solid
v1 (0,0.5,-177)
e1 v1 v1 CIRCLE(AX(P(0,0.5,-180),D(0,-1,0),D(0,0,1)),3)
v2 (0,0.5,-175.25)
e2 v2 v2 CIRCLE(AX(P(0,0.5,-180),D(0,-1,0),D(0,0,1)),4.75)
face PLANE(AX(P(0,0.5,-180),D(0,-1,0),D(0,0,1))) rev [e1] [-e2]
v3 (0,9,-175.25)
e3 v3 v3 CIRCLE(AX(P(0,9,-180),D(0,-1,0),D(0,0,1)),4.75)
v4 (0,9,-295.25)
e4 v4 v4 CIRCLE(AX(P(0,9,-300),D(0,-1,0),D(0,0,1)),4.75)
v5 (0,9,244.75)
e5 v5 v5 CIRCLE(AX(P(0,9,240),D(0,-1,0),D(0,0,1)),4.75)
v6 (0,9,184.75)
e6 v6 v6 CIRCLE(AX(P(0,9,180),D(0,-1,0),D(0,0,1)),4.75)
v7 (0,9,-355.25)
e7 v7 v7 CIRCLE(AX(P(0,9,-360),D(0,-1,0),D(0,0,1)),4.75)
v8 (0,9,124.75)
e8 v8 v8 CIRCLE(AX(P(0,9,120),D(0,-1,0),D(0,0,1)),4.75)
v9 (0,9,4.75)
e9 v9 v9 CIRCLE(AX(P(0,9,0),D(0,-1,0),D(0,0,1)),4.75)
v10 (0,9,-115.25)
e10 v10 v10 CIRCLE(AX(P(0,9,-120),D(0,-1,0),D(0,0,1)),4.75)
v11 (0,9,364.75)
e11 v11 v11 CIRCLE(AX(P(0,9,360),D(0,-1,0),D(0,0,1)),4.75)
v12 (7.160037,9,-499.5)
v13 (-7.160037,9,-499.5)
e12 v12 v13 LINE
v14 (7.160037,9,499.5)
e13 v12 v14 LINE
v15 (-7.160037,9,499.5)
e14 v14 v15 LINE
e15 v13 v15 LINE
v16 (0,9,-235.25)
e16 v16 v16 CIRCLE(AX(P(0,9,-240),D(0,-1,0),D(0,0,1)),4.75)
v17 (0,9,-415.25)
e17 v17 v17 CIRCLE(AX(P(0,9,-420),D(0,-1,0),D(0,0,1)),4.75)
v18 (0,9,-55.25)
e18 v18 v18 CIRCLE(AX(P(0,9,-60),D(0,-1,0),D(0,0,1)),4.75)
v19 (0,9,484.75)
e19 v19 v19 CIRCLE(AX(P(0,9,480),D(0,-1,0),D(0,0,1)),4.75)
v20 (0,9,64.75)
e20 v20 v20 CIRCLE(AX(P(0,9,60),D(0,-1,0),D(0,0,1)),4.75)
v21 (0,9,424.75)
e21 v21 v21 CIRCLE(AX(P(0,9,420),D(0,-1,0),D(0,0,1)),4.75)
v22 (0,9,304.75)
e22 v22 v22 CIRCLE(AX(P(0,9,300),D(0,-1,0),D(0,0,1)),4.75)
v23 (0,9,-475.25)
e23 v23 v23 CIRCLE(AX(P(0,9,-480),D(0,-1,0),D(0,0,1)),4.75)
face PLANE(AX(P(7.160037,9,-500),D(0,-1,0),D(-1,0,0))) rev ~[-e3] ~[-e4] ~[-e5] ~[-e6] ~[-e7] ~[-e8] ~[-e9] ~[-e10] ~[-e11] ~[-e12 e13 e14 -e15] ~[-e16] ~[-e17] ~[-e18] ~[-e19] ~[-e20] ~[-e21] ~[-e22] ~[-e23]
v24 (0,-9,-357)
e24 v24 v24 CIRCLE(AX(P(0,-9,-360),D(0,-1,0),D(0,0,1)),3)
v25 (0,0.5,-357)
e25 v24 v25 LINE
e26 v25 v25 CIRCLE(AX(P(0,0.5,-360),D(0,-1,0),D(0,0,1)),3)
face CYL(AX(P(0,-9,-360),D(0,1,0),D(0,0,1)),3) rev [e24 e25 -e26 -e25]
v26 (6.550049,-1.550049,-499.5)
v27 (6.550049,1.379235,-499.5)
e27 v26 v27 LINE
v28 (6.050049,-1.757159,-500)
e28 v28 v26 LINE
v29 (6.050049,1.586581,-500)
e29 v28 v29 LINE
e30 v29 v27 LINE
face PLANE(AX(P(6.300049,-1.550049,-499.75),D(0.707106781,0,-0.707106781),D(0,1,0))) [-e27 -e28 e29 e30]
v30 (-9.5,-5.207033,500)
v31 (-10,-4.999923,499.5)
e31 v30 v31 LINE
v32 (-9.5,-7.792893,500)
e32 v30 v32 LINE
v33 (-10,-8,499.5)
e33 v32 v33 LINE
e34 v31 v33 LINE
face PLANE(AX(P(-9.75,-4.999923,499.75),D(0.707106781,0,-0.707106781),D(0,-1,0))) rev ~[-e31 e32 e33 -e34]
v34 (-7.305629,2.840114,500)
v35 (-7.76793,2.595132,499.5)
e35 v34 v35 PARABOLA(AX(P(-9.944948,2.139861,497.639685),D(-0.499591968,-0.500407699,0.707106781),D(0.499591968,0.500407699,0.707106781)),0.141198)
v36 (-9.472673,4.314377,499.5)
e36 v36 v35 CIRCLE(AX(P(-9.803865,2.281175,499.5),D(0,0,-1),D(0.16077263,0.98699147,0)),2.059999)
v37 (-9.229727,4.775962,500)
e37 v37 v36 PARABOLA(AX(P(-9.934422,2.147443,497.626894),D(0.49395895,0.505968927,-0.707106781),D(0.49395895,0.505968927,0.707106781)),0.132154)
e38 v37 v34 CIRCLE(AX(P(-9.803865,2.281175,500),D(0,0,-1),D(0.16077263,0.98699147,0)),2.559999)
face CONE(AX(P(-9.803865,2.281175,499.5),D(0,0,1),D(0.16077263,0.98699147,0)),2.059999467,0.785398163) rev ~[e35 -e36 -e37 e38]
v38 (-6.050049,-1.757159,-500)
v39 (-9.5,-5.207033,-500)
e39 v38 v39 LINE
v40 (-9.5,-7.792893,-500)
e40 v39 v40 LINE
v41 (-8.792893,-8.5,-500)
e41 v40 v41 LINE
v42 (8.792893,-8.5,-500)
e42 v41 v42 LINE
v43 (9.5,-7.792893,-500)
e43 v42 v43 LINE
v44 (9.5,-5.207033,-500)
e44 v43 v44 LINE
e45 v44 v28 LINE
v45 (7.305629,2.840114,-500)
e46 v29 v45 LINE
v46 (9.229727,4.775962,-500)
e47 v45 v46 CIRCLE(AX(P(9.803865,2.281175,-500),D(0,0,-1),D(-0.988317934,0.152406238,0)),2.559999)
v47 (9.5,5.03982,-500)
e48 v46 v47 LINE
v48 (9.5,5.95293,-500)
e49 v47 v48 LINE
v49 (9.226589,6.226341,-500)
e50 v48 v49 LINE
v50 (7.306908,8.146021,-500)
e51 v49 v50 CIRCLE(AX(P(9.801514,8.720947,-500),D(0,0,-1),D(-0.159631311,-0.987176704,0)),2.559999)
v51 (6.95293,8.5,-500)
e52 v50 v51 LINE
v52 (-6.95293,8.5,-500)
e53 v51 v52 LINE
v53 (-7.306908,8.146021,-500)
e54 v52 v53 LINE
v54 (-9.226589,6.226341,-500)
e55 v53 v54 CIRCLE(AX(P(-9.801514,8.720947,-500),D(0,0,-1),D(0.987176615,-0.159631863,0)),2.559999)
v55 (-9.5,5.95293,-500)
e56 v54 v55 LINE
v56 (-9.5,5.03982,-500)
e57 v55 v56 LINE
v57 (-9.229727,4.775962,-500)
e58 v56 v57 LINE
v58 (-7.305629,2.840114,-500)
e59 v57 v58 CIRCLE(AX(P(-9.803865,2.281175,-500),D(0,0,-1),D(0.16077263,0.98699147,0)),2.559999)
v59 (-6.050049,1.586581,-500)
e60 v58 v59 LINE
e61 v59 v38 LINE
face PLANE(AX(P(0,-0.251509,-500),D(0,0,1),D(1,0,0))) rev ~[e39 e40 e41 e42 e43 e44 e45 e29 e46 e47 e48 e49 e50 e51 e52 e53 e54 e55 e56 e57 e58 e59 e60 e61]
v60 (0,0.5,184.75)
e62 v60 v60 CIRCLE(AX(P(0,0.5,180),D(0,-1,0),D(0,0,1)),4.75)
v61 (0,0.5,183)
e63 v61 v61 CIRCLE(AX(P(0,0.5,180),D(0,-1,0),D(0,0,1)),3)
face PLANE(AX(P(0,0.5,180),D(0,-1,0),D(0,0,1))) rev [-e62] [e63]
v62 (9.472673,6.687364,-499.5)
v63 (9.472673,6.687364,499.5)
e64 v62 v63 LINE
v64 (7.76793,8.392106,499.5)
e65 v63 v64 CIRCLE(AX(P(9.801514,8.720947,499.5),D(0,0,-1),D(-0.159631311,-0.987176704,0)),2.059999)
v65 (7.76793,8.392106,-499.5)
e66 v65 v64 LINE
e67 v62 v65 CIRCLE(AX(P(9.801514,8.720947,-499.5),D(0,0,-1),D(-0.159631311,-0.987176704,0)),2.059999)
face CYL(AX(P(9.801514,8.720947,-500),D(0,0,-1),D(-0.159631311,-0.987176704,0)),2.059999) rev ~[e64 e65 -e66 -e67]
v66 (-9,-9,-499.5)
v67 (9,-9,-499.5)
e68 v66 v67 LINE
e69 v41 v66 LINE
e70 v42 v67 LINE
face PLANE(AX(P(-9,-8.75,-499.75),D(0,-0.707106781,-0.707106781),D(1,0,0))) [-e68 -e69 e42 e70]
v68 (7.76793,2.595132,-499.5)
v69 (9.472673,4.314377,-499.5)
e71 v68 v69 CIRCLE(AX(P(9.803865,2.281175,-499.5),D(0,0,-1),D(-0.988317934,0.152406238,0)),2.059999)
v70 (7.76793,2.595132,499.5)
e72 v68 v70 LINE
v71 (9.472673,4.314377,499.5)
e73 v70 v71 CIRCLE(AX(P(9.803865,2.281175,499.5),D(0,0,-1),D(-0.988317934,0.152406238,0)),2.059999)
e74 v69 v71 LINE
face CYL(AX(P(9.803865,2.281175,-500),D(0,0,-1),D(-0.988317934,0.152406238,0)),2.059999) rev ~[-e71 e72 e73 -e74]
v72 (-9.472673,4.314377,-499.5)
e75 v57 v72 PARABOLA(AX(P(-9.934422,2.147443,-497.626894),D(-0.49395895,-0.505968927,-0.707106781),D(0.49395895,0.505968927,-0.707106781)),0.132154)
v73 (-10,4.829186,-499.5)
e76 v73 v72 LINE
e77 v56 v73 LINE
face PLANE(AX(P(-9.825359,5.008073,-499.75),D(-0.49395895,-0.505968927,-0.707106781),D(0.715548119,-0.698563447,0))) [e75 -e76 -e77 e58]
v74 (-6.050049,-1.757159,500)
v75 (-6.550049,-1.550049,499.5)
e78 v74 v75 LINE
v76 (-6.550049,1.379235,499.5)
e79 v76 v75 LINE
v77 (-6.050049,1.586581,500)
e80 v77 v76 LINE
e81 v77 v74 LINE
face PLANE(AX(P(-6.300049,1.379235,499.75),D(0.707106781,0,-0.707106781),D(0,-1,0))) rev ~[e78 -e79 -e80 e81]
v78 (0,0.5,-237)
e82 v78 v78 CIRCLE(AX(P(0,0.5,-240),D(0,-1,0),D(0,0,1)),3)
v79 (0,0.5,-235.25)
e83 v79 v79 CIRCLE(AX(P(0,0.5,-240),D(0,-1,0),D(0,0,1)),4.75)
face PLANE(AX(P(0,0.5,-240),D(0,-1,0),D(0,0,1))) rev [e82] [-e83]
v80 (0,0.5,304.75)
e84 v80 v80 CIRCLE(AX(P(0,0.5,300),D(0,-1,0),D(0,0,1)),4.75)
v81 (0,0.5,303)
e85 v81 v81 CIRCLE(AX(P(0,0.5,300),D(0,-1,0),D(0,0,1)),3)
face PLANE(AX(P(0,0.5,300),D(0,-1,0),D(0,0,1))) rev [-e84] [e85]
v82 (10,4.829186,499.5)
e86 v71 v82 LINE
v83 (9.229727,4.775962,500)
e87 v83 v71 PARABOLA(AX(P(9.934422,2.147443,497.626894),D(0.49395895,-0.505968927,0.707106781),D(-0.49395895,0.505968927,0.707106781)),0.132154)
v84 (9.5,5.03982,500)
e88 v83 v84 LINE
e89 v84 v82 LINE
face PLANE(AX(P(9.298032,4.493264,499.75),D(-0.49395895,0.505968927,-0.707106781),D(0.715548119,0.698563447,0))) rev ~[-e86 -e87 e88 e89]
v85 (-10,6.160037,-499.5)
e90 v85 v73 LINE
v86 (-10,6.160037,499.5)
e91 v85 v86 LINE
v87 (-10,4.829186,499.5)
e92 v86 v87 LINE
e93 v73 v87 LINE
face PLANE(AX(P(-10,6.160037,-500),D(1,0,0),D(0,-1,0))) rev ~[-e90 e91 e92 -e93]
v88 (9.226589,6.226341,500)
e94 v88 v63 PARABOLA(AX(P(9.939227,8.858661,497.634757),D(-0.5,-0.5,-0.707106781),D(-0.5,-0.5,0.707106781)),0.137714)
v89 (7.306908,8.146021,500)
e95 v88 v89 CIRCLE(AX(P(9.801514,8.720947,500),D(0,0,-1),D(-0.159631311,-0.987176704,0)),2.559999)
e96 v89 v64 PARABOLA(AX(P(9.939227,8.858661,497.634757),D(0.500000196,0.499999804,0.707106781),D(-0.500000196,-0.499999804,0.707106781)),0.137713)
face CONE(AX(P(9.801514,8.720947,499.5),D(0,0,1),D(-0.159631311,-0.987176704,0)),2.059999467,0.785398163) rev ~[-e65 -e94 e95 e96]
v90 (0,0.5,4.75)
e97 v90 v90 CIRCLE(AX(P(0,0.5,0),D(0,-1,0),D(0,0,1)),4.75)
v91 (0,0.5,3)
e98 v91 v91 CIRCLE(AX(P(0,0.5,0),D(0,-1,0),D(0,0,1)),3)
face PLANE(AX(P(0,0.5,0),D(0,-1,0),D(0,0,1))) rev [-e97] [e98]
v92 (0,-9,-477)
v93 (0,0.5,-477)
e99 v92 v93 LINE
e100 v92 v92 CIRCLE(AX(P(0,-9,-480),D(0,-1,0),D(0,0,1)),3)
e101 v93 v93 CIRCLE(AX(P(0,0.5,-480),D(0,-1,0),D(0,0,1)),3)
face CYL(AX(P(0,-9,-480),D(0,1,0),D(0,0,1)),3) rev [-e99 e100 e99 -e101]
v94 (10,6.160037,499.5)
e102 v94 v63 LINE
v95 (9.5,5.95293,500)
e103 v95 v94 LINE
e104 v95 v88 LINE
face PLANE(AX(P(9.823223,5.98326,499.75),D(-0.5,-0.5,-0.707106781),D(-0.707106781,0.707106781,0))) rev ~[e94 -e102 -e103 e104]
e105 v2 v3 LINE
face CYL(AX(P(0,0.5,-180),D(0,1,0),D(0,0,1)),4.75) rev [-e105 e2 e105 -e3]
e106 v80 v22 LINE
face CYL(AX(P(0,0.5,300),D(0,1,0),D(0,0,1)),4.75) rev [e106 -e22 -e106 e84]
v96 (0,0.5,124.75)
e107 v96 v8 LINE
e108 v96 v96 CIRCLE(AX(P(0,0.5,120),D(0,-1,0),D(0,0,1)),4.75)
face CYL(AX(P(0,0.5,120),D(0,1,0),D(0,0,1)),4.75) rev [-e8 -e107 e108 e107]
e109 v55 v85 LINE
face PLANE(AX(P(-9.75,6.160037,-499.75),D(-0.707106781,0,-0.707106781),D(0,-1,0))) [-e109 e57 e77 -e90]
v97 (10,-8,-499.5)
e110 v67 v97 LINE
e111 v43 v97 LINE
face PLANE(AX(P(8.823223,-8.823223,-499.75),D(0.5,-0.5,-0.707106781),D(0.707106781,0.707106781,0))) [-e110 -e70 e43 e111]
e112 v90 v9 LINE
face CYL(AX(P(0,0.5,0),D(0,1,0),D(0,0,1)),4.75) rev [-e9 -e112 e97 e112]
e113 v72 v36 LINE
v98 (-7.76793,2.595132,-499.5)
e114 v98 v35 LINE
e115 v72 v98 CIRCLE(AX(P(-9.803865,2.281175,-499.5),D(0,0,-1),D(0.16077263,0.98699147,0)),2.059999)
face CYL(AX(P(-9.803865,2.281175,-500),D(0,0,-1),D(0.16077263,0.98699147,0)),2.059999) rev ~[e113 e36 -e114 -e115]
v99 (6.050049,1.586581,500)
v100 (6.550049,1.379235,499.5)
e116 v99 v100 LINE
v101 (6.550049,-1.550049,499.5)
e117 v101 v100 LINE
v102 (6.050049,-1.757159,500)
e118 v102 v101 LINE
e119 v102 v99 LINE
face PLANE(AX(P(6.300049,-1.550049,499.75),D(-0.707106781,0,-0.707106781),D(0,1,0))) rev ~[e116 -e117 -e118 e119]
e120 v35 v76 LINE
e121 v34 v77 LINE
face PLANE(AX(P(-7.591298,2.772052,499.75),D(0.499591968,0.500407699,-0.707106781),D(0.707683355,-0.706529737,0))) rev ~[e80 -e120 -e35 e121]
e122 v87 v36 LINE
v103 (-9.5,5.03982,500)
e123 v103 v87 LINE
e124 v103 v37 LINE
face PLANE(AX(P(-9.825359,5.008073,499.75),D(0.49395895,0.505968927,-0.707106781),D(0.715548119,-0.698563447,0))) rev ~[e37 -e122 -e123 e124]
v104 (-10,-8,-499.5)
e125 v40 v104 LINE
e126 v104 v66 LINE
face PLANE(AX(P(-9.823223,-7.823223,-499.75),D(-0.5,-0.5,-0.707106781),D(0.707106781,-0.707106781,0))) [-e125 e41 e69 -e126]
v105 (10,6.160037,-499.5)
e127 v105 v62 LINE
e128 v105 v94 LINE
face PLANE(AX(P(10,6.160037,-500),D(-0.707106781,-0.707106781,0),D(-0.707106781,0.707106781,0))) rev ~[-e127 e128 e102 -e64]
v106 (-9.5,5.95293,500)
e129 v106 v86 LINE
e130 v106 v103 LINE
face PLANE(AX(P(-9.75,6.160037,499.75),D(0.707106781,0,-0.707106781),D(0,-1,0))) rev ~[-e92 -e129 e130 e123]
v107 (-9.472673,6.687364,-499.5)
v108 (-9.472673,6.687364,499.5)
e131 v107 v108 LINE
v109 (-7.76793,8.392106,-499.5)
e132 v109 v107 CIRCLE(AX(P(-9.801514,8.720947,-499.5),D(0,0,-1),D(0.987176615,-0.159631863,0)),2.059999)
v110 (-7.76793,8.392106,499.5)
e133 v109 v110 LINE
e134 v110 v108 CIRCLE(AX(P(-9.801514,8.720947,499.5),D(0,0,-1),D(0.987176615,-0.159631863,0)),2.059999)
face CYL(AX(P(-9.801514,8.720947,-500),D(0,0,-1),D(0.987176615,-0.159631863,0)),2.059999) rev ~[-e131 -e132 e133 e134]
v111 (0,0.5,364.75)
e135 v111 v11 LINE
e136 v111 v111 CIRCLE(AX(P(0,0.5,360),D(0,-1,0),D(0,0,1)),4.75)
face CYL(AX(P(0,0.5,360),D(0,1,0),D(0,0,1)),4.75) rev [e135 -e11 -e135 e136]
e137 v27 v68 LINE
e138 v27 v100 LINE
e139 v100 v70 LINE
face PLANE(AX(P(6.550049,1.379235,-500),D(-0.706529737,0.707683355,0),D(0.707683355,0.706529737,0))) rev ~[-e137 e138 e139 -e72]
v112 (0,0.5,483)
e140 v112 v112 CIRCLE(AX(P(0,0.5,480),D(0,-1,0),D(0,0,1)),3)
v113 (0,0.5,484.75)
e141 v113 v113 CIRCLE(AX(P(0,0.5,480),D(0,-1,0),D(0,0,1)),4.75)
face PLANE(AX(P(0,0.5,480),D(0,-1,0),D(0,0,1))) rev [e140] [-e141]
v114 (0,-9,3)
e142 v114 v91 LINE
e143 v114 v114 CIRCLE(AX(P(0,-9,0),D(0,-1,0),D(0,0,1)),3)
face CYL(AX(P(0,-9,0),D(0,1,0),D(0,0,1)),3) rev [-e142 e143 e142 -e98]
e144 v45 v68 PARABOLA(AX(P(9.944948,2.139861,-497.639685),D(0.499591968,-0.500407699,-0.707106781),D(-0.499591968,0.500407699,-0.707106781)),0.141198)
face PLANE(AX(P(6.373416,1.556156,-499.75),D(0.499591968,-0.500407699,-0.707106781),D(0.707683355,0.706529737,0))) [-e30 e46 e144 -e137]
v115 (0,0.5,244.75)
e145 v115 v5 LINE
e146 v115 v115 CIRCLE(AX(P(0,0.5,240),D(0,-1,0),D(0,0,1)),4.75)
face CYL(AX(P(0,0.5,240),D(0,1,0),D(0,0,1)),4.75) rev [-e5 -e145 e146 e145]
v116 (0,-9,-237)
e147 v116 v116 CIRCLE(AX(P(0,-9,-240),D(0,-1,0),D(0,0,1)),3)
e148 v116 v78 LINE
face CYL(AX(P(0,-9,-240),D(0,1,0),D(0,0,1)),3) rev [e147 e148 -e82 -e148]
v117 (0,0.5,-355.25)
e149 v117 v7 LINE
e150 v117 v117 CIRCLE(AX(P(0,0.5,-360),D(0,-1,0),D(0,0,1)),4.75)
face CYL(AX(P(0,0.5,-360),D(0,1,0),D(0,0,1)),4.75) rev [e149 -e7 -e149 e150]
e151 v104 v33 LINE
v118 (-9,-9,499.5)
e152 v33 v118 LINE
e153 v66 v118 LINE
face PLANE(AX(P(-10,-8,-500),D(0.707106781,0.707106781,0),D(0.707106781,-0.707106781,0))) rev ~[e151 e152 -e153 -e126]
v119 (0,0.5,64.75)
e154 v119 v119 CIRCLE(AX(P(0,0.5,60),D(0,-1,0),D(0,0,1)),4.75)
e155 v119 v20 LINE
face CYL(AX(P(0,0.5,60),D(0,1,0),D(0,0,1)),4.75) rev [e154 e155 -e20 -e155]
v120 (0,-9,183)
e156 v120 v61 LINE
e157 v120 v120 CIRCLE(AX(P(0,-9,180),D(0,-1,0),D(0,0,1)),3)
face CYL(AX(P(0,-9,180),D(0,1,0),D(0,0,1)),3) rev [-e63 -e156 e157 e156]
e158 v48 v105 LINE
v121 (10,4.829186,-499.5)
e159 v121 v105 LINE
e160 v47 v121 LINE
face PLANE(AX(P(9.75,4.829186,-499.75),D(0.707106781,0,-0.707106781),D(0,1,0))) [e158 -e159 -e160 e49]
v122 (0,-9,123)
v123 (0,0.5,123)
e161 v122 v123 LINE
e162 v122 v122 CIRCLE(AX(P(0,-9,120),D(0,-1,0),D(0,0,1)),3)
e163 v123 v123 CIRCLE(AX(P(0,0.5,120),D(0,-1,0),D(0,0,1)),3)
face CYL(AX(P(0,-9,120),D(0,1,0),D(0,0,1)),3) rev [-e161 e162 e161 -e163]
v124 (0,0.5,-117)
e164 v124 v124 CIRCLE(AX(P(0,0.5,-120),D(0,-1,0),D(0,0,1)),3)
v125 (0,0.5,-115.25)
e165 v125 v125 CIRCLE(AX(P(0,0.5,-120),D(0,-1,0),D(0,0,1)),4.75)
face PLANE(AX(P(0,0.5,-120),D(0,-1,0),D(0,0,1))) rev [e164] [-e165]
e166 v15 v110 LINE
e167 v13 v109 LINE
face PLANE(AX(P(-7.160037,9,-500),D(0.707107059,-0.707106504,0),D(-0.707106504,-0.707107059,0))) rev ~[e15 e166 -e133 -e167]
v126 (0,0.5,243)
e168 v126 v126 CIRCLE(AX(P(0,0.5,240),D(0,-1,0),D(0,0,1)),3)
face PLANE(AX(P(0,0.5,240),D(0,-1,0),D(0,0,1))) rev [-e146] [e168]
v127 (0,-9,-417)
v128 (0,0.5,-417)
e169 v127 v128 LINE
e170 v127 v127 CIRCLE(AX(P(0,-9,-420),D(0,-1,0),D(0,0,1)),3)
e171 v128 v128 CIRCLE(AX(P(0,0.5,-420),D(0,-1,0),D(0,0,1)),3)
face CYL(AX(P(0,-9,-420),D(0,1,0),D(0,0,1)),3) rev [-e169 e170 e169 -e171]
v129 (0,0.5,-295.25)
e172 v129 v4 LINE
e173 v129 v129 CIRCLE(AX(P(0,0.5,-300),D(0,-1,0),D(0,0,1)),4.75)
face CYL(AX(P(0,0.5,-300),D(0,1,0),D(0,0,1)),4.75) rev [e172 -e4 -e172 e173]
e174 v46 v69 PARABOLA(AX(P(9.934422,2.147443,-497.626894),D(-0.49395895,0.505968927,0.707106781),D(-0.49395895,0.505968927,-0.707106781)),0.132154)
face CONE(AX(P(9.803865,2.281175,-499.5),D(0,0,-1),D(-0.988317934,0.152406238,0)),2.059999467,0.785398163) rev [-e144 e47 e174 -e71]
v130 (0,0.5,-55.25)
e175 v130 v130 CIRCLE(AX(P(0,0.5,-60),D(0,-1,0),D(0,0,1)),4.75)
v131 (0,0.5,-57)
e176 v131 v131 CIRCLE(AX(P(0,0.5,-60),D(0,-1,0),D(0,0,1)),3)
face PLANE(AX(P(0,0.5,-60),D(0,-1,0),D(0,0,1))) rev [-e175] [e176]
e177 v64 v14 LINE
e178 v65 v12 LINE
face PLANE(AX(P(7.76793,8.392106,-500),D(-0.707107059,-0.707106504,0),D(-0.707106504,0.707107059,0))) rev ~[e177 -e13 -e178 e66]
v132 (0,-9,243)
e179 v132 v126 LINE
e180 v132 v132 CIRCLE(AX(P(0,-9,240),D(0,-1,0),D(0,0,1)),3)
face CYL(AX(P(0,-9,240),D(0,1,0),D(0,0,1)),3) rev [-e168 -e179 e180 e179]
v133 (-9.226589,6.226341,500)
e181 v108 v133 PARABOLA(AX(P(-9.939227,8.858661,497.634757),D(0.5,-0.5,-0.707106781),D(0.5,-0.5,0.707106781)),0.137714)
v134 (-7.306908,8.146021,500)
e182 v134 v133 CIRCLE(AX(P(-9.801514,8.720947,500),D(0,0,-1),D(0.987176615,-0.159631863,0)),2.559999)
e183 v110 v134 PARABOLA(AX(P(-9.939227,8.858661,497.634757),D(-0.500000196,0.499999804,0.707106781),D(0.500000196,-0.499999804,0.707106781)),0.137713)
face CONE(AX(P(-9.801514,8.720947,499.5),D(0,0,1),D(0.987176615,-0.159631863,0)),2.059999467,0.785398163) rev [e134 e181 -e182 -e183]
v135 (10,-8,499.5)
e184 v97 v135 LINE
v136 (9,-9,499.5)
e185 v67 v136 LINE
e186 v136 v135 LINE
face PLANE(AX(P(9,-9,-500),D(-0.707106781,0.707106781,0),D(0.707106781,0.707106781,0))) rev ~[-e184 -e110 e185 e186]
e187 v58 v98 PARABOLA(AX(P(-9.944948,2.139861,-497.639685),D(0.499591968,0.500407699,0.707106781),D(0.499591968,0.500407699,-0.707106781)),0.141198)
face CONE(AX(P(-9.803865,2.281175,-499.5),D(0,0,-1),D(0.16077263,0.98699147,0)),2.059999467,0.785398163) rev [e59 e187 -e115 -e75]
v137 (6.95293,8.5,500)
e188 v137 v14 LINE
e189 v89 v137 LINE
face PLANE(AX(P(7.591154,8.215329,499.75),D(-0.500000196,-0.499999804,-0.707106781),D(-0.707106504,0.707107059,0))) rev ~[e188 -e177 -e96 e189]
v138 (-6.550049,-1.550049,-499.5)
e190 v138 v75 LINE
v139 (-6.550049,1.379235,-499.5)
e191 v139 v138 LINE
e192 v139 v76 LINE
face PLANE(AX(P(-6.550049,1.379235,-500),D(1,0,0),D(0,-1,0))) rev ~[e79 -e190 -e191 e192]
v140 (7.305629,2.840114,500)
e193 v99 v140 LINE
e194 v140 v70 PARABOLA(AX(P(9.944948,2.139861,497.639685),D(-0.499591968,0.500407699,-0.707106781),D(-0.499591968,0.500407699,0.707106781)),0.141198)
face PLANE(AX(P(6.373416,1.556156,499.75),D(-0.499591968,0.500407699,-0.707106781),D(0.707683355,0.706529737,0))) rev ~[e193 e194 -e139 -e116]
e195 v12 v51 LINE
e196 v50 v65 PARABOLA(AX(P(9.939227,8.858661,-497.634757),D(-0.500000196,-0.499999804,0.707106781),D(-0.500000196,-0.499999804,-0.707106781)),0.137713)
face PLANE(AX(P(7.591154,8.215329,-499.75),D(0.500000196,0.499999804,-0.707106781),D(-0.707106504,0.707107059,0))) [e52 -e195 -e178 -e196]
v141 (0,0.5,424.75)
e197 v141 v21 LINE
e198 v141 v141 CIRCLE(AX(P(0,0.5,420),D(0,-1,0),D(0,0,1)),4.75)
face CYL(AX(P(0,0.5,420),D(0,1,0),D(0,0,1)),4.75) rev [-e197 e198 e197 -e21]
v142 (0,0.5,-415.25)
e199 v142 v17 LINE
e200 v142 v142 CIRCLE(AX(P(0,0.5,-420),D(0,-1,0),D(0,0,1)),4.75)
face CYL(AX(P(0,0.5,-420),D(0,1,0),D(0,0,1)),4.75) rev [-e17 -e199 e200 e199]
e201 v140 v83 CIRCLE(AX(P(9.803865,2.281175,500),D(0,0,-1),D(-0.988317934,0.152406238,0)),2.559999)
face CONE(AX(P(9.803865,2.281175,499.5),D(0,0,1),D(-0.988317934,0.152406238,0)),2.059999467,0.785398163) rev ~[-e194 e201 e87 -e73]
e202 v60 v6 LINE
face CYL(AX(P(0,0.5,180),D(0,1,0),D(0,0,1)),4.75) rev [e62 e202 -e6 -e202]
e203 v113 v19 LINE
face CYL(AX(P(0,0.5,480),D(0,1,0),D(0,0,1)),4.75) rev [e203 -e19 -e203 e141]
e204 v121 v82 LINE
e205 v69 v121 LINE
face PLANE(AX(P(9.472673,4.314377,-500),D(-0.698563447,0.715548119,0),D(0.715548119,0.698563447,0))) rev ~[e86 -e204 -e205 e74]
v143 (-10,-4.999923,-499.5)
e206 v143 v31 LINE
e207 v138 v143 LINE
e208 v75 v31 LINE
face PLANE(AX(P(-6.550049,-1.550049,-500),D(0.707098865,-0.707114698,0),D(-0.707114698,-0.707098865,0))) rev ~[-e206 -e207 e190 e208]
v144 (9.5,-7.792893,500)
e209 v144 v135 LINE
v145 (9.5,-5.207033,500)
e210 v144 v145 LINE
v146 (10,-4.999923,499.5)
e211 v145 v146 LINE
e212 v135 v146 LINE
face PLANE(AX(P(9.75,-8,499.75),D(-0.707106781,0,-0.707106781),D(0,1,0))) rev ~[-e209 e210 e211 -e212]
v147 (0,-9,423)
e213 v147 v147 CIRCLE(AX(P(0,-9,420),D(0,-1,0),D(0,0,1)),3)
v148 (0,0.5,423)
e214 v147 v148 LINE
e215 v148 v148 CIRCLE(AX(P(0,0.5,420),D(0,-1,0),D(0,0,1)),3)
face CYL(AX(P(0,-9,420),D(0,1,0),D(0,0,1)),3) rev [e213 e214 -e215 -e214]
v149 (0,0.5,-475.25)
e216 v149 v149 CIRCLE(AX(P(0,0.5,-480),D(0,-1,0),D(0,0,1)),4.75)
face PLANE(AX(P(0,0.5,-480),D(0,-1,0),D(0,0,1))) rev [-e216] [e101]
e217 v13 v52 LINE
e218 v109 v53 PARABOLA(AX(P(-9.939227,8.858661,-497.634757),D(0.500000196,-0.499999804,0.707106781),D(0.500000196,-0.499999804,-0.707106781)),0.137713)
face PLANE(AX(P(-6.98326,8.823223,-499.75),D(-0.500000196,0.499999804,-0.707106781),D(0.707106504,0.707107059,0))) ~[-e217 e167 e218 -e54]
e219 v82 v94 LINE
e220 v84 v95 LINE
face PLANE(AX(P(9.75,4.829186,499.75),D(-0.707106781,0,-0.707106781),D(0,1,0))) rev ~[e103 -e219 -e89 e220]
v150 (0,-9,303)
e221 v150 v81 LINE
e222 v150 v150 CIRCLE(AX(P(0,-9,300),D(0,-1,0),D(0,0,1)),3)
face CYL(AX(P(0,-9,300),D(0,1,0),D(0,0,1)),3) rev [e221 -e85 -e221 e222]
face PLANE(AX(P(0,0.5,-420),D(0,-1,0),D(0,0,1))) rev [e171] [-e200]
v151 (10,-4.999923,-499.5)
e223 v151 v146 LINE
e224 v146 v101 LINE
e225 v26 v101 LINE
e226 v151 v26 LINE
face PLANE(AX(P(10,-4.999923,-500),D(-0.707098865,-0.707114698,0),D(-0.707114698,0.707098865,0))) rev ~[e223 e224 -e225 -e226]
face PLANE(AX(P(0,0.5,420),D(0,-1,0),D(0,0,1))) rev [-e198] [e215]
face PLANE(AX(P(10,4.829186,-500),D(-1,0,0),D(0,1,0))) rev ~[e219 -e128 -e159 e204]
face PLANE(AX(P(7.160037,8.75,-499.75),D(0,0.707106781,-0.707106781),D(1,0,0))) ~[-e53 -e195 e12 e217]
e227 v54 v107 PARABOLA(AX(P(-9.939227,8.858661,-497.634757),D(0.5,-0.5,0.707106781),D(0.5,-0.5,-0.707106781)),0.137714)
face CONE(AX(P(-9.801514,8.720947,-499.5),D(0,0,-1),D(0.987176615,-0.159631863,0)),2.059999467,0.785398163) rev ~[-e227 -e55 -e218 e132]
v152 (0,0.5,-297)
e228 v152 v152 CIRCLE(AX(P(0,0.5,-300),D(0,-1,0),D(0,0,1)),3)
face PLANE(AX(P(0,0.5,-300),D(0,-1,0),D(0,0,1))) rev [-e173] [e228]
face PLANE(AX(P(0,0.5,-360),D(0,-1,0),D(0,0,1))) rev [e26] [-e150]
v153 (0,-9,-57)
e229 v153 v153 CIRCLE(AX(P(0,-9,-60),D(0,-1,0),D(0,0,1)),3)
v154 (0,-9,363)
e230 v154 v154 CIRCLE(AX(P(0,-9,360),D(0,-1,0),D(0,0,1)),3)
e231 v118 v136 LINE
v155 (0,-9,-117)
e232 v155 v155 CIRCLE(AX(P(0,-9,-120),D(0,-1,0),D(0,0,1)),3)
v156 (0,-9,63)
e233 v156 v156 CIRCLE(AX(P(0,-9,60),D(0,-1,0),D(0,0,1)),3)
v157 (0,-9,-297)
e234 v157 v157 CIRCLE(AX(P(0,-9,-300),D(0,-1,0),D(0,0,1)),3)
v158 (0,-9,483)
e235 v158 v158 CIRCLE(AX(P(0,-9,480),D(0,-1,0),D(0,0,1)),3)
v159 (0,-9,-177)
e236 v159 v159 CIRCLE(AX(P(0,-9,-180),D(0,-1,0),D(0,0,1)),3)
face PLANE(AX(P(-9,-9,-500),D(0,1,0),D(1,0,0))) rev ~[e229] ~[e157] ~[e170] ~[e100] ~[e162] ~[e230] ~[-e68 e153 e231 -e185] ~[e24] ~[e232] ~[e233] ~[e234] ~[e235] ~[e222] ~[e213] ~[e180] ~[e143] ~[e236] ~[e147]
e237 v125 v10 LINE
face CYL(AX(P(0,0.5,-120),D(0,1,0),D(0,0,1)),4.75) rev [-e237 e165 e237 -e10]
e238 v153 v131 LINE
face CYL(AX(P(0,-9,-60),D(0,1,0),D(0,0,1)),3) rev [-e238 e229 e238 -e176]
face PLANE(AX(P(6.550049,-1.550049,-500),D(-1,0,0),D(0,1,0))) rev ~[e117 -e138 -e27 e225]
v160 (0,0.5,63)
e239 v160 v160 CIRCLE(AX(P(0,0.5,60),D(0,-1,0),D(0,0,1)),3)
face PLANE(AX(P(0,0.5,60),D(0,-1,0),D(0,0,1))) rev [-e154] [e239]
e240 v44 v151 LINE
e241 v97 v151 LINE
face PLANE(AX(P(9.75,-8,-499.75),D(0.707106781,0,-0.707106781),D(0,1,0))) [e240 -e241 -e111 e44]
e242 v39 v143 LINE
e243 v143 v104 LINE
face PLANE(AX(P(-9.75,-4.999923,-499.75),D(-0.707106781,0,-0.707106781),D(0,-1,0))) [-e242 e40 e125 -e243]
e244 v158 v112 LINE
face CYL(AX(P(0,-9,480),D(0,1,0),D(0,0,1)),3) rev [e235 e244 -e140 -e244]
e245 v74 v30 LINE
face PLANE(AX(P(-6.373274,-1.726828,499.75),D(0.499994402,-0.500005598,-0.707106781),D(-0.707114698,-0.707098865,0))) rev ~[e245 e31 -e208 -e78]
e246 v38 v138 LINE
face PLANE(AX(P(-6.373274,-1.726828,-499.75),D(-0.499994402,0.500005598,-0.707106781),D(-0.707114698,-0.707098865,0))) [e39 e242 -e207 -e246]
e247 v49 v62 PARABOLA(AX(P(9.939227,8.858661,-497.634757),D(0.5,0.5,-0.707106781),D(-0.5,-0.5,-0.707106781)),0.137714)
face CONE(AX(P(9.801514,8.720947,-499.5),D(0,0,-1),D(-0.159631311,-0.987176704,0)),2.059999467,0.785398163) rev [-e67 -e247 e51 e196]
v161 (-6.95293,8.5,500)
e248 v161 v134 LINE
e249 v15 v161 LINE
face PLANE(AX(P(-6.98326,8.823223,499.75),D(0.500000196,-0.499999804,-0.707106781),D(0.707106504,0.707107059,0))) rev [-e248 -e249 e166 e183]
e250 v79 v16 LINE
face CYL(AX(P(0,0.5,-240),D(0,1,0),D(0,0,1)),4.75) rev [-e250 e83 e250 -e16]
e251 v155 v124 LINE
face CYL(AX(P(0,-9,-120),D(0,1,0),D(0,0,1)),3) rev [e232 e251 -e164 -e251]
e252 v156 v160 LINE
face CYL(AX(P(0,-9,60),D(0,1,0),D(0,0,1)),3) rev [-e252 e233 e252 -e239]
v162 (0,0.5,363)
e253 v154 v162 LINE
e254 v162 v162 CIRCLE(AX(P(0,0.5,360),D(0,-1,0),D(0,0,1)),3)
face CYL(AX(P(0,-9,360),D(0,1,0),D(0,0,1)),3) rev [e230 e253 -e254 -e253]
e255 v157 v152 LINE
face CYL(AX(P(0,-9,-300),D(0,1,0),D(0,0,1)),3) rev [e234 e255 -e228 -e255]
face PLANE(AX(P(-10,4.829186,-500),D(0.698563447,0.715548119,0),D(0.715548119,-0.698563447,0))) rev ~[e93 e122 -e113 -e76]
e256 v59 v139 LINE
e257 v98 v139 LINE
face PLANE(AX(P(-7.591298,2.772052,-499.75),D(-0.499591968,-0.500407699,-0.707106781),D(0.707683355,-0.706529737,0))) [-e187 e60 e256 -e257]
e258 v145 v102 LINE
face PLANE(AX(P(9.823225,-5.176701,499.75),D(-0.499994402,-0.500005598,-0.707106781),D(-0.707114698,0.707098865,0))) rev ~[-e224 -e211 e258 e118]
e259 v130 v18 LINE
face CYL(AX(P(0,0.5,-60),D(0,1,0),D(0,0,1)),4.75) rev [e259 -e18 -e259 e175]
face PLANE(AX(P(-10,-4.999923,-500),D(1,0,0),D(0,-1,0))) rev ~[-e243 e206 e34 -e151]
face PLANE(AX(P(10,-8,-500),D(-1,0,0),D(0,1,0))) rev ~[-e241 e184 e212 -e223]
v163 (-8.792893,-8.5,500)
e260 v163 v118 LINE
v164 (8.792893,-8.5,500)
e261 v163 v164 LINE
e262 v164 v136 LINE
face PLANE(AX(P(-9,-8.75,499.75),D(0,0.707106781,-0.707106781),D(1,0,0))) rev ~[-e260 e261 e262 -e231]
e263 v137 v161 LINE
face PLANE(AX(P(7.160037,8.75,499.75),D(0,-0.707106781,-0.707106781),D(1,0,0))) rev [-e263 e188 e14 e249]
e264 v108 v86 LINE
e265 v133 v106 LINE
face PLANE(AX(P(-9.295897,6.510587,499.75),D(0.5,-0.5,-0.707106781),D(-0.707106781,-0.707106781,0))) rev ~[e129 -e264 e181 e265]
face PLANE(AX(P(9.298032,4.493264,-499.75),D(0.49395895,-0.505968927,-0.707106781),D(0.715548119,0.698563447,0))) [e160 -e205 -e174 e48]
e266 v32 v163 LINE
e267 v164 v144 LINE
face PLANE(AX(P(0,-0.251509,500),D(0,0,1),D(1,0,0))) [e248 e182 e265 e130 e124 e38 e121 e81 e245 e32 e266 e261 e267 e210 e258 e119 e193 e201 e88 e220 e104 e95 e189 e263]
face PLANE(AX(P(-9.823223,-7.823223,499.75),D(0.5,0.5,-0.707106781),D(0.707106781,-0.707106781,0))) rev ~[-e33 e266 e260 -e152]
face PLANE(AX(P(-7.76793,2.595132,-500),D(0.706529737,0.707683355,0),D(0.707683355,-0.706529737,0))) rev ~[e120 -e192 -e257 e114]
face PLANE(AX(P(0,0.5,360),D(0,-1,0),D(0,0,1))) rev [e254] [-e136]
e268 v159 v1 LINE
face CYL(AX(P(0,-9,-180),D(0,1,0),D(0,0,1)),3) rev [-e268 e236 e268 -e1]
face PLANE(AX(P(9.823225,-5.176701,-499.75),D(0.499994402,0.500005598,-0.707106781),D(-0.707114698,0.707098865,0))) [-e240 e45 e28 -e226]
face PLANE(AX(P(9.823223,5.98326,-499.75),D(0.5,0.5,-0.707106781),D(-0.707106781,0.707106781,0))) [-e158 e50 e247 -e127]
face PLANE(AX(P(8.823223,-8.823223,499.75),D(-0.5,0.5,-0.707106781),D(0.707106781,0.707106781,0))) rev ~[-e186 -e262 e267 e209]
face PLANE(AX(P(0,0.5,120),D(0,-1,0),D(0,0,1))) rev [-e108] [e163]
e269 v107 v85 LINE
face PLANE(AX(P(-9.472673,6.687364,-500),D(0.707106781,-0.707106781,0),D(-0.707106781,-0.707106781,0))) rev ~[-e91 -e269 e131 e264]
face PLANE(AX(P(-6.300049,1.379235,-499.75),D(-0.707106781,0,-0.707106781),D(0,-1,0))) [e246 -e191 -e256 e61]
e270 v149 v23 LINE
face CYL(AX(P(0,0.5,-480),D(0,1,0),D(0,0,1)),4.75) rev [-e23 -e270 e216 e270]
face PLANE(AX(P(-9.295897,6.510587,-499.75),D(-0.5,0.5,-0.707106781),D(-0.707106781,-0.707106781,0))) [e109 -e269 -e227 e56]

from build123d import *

# Parameters (mm, degrees)
BOSS_EXTRUDE1_DEPTH      = 500
BOSS_EXTRUDE1_DEPTH_BACK = 500
LPATTERN2_COUNT          = 17
LPATTERN2_PITCH          = 60
CHAMFER1_SIZE            = 0.5


with BuildPart() as part:
    # Sketch3 → Boss-Extrude1 (new, two sides: drawn at the far end of the back side and taken through both)
    with BuildSketch(Plane.XY.offset(-BOSS_EXTRUDE1_DEPTH_BACK)):
        with BuildLine():
            Line((3, 9), (-3, 9))
            Line((-3, 9), (-7.160036564, 9))
            Line((-7.160036564, 9), (-7.767930373, 8.392105714))
            ThreePointArc((-7.767930373, 8.392105714), (-8.344874488, 7.264307267), (-9.472673258, 6.687363783))
            Line((-9.472673258, 6.687363783), (-10, 6.160037041))
            Line((-10, 6.160037041), (-10, 4.82918644))
            Line((-10, 4.82918644), (-9.472673258, 4.314376637))
            ThreePointArc((-9.472673258, 4.314376637), (-8.341068744, 3.731631743), (-7.767930373, 2.595131504))
            Line((-7.767930373, 2.595131504), (-6.550048828, 1.379235268))
            Line((-6.550048828, 1.379235268), (-6.550048828, -1.550048828))
            Line((-6.550048828, -1.550048828), (-10, -4.999922752))
            Line((-10, -4.999922752), (-10, -8))
            Line((-10, -8), (-9, -9))
            Line((-9, -9), (0, -9))
            Line((0, -9), (9, -9))
            Line((9, -9), (10, -8))
            Line((10, -8), (10, -4.999922752))
            Line((10, -4.999922752), (6.550048828, -1.550048828))
            Line((6.550048828, -1.550048828), (6.550048828, 1.379235268))
            Line((6.550048828, 1.379235268), (7.767930373, 2.595131504))
            ThreePointArc((7.767930373, 2.595131504), (8.341068744, 3.731631743), (9.472673258, 4.314376637))
            Line((9.472673258, 4.314376637), (10, 4.82918644))
            Line((10, 4.82918644), (10, 6.160037041))
            Line((10, 6.160037041), (9.472673258, 6.687363783))
            ThreePointArc((9.472673258, 6.687363783), (8.344874488, 7.264307267), (7.767930373, 8.392105714))
            Line((7.767930373, 8.392105714), (7.160036564, 9))
            Line((7.160036564, 9), (3, 9))
        make_face()
    extrude(amount=BOSS_EXTRUDE1_DEPTH + BOSS_EXTRUDE1_DEPTH_BACK)

    # Sketch4 → Cut-Revolve1 (revolve, cut)
    with BuildSketch(Plane(origin=(0, 0, 0), x_dir=(0, 0, -1), z_dir=(1, 0, 0)), mode=Mode.PRIVATE) as cut_revolve1_sk:
        Polygon((-475.25, 9), (-480, 9), (-480, -9), (-477, -9), (-477, 0.5), (-475.25, 0.5), align=None)
    cut_revolve1 = revolve(cut_revolve1_sk.sketch.rotate(Axis((0, 9, 480), (0, -1, 0)), 180), axis=Axis((0, 9, 480), (0, -1, 0)), mode=Mode.SUBTRACT)

    # LPattern2: Cut-Revolve1 ×17
    with Locations(*[(0, 0, -i * LPATTERN2_PITCH) for i in range(1, LPATTERN2_COUNT)]):
        add(cut_revolve1, mode=Mode.SUBTRACT)

    # Chamfer1
    chamfer1_edges = [part.edges().sort_by_distance(p)[0] for p in [
        (-6.550048828, -0.08540678, 500),
        (-8.275024414, -3.27498579, 500),
        (-10, -6.499961376, 500),
        (-9.5, -8.5, 500),
        (0, -9, 500),
        (9.5, -8.5, 500),
        (10, -6.499961376, 500),
        (8.275024414, -3.27498579, 500),
        (6.550048828, -0.08540678, 500),
        (-8.341068744, 3.731631743, 500),
        (7.158989601, 1.987183386, 500),
        (8.341068744, 3.731631743, 500),
        (9.736336629, 4.571781538, 500),
        (-9.736336629, 4.571781538, -500),
        (-10, 5.49461174, -500),
        (10, 5.49461174, 500),
        (-9.736336629, 6.423700412, -500),
        (-7.463983469, 8.696052857, -500),
        (0, 9, -500),
        (7.463983469, 8.696052857, -500),
        (9.736336629, 6.423700412, -500),
        (10, 5.49461174, -500),
        (9.736336629, 6.423700412, 500),
        (9.736336629, 4.571781538, -500),
        (7.158989601, 1.987183386, -500),
        (6.550048828, -0.08540678, -500),
        (8.275024414, -3.27498579, -500),
        (10, -6.499961376, -500),
        (9.5, -8.5, -500),
        (0, -9, -500),
        (8.344874488, 7.264307267, 500),
        (-9.5, -8.5, -500),
        (-10, -6.499961376, -500),
        (-8.275024414, -3.27498579, -500),
        (-6.550048828, -0.08540678, -500),
        (-7.158989601, 1.987183386, -500),
        (-8.341068744, 3.731631743, -500),
        (-8.344874488, 7.264307267, -500),
        (8.344874488, 7.264307267, -500),
        (8.341068744, 3.731631743, -500),
        (7.463983469, 8.696052857, 500),
        (0, 9, 500),
        (-7.463983469, 8.696052857, 500),
        (-8.344874488, 7.264307267, 500),
        (-7.158989601, 1.987183386, 500),
        (-9.736336629, 6.423700412, 500),
        (-10, 5.49461174, 500),
        (-9.736336629, 4.571781538, 500),
    ]]
    chamfer(chamfer1_edges, length=CHAMFER1_SIZE)


solid = part.part
